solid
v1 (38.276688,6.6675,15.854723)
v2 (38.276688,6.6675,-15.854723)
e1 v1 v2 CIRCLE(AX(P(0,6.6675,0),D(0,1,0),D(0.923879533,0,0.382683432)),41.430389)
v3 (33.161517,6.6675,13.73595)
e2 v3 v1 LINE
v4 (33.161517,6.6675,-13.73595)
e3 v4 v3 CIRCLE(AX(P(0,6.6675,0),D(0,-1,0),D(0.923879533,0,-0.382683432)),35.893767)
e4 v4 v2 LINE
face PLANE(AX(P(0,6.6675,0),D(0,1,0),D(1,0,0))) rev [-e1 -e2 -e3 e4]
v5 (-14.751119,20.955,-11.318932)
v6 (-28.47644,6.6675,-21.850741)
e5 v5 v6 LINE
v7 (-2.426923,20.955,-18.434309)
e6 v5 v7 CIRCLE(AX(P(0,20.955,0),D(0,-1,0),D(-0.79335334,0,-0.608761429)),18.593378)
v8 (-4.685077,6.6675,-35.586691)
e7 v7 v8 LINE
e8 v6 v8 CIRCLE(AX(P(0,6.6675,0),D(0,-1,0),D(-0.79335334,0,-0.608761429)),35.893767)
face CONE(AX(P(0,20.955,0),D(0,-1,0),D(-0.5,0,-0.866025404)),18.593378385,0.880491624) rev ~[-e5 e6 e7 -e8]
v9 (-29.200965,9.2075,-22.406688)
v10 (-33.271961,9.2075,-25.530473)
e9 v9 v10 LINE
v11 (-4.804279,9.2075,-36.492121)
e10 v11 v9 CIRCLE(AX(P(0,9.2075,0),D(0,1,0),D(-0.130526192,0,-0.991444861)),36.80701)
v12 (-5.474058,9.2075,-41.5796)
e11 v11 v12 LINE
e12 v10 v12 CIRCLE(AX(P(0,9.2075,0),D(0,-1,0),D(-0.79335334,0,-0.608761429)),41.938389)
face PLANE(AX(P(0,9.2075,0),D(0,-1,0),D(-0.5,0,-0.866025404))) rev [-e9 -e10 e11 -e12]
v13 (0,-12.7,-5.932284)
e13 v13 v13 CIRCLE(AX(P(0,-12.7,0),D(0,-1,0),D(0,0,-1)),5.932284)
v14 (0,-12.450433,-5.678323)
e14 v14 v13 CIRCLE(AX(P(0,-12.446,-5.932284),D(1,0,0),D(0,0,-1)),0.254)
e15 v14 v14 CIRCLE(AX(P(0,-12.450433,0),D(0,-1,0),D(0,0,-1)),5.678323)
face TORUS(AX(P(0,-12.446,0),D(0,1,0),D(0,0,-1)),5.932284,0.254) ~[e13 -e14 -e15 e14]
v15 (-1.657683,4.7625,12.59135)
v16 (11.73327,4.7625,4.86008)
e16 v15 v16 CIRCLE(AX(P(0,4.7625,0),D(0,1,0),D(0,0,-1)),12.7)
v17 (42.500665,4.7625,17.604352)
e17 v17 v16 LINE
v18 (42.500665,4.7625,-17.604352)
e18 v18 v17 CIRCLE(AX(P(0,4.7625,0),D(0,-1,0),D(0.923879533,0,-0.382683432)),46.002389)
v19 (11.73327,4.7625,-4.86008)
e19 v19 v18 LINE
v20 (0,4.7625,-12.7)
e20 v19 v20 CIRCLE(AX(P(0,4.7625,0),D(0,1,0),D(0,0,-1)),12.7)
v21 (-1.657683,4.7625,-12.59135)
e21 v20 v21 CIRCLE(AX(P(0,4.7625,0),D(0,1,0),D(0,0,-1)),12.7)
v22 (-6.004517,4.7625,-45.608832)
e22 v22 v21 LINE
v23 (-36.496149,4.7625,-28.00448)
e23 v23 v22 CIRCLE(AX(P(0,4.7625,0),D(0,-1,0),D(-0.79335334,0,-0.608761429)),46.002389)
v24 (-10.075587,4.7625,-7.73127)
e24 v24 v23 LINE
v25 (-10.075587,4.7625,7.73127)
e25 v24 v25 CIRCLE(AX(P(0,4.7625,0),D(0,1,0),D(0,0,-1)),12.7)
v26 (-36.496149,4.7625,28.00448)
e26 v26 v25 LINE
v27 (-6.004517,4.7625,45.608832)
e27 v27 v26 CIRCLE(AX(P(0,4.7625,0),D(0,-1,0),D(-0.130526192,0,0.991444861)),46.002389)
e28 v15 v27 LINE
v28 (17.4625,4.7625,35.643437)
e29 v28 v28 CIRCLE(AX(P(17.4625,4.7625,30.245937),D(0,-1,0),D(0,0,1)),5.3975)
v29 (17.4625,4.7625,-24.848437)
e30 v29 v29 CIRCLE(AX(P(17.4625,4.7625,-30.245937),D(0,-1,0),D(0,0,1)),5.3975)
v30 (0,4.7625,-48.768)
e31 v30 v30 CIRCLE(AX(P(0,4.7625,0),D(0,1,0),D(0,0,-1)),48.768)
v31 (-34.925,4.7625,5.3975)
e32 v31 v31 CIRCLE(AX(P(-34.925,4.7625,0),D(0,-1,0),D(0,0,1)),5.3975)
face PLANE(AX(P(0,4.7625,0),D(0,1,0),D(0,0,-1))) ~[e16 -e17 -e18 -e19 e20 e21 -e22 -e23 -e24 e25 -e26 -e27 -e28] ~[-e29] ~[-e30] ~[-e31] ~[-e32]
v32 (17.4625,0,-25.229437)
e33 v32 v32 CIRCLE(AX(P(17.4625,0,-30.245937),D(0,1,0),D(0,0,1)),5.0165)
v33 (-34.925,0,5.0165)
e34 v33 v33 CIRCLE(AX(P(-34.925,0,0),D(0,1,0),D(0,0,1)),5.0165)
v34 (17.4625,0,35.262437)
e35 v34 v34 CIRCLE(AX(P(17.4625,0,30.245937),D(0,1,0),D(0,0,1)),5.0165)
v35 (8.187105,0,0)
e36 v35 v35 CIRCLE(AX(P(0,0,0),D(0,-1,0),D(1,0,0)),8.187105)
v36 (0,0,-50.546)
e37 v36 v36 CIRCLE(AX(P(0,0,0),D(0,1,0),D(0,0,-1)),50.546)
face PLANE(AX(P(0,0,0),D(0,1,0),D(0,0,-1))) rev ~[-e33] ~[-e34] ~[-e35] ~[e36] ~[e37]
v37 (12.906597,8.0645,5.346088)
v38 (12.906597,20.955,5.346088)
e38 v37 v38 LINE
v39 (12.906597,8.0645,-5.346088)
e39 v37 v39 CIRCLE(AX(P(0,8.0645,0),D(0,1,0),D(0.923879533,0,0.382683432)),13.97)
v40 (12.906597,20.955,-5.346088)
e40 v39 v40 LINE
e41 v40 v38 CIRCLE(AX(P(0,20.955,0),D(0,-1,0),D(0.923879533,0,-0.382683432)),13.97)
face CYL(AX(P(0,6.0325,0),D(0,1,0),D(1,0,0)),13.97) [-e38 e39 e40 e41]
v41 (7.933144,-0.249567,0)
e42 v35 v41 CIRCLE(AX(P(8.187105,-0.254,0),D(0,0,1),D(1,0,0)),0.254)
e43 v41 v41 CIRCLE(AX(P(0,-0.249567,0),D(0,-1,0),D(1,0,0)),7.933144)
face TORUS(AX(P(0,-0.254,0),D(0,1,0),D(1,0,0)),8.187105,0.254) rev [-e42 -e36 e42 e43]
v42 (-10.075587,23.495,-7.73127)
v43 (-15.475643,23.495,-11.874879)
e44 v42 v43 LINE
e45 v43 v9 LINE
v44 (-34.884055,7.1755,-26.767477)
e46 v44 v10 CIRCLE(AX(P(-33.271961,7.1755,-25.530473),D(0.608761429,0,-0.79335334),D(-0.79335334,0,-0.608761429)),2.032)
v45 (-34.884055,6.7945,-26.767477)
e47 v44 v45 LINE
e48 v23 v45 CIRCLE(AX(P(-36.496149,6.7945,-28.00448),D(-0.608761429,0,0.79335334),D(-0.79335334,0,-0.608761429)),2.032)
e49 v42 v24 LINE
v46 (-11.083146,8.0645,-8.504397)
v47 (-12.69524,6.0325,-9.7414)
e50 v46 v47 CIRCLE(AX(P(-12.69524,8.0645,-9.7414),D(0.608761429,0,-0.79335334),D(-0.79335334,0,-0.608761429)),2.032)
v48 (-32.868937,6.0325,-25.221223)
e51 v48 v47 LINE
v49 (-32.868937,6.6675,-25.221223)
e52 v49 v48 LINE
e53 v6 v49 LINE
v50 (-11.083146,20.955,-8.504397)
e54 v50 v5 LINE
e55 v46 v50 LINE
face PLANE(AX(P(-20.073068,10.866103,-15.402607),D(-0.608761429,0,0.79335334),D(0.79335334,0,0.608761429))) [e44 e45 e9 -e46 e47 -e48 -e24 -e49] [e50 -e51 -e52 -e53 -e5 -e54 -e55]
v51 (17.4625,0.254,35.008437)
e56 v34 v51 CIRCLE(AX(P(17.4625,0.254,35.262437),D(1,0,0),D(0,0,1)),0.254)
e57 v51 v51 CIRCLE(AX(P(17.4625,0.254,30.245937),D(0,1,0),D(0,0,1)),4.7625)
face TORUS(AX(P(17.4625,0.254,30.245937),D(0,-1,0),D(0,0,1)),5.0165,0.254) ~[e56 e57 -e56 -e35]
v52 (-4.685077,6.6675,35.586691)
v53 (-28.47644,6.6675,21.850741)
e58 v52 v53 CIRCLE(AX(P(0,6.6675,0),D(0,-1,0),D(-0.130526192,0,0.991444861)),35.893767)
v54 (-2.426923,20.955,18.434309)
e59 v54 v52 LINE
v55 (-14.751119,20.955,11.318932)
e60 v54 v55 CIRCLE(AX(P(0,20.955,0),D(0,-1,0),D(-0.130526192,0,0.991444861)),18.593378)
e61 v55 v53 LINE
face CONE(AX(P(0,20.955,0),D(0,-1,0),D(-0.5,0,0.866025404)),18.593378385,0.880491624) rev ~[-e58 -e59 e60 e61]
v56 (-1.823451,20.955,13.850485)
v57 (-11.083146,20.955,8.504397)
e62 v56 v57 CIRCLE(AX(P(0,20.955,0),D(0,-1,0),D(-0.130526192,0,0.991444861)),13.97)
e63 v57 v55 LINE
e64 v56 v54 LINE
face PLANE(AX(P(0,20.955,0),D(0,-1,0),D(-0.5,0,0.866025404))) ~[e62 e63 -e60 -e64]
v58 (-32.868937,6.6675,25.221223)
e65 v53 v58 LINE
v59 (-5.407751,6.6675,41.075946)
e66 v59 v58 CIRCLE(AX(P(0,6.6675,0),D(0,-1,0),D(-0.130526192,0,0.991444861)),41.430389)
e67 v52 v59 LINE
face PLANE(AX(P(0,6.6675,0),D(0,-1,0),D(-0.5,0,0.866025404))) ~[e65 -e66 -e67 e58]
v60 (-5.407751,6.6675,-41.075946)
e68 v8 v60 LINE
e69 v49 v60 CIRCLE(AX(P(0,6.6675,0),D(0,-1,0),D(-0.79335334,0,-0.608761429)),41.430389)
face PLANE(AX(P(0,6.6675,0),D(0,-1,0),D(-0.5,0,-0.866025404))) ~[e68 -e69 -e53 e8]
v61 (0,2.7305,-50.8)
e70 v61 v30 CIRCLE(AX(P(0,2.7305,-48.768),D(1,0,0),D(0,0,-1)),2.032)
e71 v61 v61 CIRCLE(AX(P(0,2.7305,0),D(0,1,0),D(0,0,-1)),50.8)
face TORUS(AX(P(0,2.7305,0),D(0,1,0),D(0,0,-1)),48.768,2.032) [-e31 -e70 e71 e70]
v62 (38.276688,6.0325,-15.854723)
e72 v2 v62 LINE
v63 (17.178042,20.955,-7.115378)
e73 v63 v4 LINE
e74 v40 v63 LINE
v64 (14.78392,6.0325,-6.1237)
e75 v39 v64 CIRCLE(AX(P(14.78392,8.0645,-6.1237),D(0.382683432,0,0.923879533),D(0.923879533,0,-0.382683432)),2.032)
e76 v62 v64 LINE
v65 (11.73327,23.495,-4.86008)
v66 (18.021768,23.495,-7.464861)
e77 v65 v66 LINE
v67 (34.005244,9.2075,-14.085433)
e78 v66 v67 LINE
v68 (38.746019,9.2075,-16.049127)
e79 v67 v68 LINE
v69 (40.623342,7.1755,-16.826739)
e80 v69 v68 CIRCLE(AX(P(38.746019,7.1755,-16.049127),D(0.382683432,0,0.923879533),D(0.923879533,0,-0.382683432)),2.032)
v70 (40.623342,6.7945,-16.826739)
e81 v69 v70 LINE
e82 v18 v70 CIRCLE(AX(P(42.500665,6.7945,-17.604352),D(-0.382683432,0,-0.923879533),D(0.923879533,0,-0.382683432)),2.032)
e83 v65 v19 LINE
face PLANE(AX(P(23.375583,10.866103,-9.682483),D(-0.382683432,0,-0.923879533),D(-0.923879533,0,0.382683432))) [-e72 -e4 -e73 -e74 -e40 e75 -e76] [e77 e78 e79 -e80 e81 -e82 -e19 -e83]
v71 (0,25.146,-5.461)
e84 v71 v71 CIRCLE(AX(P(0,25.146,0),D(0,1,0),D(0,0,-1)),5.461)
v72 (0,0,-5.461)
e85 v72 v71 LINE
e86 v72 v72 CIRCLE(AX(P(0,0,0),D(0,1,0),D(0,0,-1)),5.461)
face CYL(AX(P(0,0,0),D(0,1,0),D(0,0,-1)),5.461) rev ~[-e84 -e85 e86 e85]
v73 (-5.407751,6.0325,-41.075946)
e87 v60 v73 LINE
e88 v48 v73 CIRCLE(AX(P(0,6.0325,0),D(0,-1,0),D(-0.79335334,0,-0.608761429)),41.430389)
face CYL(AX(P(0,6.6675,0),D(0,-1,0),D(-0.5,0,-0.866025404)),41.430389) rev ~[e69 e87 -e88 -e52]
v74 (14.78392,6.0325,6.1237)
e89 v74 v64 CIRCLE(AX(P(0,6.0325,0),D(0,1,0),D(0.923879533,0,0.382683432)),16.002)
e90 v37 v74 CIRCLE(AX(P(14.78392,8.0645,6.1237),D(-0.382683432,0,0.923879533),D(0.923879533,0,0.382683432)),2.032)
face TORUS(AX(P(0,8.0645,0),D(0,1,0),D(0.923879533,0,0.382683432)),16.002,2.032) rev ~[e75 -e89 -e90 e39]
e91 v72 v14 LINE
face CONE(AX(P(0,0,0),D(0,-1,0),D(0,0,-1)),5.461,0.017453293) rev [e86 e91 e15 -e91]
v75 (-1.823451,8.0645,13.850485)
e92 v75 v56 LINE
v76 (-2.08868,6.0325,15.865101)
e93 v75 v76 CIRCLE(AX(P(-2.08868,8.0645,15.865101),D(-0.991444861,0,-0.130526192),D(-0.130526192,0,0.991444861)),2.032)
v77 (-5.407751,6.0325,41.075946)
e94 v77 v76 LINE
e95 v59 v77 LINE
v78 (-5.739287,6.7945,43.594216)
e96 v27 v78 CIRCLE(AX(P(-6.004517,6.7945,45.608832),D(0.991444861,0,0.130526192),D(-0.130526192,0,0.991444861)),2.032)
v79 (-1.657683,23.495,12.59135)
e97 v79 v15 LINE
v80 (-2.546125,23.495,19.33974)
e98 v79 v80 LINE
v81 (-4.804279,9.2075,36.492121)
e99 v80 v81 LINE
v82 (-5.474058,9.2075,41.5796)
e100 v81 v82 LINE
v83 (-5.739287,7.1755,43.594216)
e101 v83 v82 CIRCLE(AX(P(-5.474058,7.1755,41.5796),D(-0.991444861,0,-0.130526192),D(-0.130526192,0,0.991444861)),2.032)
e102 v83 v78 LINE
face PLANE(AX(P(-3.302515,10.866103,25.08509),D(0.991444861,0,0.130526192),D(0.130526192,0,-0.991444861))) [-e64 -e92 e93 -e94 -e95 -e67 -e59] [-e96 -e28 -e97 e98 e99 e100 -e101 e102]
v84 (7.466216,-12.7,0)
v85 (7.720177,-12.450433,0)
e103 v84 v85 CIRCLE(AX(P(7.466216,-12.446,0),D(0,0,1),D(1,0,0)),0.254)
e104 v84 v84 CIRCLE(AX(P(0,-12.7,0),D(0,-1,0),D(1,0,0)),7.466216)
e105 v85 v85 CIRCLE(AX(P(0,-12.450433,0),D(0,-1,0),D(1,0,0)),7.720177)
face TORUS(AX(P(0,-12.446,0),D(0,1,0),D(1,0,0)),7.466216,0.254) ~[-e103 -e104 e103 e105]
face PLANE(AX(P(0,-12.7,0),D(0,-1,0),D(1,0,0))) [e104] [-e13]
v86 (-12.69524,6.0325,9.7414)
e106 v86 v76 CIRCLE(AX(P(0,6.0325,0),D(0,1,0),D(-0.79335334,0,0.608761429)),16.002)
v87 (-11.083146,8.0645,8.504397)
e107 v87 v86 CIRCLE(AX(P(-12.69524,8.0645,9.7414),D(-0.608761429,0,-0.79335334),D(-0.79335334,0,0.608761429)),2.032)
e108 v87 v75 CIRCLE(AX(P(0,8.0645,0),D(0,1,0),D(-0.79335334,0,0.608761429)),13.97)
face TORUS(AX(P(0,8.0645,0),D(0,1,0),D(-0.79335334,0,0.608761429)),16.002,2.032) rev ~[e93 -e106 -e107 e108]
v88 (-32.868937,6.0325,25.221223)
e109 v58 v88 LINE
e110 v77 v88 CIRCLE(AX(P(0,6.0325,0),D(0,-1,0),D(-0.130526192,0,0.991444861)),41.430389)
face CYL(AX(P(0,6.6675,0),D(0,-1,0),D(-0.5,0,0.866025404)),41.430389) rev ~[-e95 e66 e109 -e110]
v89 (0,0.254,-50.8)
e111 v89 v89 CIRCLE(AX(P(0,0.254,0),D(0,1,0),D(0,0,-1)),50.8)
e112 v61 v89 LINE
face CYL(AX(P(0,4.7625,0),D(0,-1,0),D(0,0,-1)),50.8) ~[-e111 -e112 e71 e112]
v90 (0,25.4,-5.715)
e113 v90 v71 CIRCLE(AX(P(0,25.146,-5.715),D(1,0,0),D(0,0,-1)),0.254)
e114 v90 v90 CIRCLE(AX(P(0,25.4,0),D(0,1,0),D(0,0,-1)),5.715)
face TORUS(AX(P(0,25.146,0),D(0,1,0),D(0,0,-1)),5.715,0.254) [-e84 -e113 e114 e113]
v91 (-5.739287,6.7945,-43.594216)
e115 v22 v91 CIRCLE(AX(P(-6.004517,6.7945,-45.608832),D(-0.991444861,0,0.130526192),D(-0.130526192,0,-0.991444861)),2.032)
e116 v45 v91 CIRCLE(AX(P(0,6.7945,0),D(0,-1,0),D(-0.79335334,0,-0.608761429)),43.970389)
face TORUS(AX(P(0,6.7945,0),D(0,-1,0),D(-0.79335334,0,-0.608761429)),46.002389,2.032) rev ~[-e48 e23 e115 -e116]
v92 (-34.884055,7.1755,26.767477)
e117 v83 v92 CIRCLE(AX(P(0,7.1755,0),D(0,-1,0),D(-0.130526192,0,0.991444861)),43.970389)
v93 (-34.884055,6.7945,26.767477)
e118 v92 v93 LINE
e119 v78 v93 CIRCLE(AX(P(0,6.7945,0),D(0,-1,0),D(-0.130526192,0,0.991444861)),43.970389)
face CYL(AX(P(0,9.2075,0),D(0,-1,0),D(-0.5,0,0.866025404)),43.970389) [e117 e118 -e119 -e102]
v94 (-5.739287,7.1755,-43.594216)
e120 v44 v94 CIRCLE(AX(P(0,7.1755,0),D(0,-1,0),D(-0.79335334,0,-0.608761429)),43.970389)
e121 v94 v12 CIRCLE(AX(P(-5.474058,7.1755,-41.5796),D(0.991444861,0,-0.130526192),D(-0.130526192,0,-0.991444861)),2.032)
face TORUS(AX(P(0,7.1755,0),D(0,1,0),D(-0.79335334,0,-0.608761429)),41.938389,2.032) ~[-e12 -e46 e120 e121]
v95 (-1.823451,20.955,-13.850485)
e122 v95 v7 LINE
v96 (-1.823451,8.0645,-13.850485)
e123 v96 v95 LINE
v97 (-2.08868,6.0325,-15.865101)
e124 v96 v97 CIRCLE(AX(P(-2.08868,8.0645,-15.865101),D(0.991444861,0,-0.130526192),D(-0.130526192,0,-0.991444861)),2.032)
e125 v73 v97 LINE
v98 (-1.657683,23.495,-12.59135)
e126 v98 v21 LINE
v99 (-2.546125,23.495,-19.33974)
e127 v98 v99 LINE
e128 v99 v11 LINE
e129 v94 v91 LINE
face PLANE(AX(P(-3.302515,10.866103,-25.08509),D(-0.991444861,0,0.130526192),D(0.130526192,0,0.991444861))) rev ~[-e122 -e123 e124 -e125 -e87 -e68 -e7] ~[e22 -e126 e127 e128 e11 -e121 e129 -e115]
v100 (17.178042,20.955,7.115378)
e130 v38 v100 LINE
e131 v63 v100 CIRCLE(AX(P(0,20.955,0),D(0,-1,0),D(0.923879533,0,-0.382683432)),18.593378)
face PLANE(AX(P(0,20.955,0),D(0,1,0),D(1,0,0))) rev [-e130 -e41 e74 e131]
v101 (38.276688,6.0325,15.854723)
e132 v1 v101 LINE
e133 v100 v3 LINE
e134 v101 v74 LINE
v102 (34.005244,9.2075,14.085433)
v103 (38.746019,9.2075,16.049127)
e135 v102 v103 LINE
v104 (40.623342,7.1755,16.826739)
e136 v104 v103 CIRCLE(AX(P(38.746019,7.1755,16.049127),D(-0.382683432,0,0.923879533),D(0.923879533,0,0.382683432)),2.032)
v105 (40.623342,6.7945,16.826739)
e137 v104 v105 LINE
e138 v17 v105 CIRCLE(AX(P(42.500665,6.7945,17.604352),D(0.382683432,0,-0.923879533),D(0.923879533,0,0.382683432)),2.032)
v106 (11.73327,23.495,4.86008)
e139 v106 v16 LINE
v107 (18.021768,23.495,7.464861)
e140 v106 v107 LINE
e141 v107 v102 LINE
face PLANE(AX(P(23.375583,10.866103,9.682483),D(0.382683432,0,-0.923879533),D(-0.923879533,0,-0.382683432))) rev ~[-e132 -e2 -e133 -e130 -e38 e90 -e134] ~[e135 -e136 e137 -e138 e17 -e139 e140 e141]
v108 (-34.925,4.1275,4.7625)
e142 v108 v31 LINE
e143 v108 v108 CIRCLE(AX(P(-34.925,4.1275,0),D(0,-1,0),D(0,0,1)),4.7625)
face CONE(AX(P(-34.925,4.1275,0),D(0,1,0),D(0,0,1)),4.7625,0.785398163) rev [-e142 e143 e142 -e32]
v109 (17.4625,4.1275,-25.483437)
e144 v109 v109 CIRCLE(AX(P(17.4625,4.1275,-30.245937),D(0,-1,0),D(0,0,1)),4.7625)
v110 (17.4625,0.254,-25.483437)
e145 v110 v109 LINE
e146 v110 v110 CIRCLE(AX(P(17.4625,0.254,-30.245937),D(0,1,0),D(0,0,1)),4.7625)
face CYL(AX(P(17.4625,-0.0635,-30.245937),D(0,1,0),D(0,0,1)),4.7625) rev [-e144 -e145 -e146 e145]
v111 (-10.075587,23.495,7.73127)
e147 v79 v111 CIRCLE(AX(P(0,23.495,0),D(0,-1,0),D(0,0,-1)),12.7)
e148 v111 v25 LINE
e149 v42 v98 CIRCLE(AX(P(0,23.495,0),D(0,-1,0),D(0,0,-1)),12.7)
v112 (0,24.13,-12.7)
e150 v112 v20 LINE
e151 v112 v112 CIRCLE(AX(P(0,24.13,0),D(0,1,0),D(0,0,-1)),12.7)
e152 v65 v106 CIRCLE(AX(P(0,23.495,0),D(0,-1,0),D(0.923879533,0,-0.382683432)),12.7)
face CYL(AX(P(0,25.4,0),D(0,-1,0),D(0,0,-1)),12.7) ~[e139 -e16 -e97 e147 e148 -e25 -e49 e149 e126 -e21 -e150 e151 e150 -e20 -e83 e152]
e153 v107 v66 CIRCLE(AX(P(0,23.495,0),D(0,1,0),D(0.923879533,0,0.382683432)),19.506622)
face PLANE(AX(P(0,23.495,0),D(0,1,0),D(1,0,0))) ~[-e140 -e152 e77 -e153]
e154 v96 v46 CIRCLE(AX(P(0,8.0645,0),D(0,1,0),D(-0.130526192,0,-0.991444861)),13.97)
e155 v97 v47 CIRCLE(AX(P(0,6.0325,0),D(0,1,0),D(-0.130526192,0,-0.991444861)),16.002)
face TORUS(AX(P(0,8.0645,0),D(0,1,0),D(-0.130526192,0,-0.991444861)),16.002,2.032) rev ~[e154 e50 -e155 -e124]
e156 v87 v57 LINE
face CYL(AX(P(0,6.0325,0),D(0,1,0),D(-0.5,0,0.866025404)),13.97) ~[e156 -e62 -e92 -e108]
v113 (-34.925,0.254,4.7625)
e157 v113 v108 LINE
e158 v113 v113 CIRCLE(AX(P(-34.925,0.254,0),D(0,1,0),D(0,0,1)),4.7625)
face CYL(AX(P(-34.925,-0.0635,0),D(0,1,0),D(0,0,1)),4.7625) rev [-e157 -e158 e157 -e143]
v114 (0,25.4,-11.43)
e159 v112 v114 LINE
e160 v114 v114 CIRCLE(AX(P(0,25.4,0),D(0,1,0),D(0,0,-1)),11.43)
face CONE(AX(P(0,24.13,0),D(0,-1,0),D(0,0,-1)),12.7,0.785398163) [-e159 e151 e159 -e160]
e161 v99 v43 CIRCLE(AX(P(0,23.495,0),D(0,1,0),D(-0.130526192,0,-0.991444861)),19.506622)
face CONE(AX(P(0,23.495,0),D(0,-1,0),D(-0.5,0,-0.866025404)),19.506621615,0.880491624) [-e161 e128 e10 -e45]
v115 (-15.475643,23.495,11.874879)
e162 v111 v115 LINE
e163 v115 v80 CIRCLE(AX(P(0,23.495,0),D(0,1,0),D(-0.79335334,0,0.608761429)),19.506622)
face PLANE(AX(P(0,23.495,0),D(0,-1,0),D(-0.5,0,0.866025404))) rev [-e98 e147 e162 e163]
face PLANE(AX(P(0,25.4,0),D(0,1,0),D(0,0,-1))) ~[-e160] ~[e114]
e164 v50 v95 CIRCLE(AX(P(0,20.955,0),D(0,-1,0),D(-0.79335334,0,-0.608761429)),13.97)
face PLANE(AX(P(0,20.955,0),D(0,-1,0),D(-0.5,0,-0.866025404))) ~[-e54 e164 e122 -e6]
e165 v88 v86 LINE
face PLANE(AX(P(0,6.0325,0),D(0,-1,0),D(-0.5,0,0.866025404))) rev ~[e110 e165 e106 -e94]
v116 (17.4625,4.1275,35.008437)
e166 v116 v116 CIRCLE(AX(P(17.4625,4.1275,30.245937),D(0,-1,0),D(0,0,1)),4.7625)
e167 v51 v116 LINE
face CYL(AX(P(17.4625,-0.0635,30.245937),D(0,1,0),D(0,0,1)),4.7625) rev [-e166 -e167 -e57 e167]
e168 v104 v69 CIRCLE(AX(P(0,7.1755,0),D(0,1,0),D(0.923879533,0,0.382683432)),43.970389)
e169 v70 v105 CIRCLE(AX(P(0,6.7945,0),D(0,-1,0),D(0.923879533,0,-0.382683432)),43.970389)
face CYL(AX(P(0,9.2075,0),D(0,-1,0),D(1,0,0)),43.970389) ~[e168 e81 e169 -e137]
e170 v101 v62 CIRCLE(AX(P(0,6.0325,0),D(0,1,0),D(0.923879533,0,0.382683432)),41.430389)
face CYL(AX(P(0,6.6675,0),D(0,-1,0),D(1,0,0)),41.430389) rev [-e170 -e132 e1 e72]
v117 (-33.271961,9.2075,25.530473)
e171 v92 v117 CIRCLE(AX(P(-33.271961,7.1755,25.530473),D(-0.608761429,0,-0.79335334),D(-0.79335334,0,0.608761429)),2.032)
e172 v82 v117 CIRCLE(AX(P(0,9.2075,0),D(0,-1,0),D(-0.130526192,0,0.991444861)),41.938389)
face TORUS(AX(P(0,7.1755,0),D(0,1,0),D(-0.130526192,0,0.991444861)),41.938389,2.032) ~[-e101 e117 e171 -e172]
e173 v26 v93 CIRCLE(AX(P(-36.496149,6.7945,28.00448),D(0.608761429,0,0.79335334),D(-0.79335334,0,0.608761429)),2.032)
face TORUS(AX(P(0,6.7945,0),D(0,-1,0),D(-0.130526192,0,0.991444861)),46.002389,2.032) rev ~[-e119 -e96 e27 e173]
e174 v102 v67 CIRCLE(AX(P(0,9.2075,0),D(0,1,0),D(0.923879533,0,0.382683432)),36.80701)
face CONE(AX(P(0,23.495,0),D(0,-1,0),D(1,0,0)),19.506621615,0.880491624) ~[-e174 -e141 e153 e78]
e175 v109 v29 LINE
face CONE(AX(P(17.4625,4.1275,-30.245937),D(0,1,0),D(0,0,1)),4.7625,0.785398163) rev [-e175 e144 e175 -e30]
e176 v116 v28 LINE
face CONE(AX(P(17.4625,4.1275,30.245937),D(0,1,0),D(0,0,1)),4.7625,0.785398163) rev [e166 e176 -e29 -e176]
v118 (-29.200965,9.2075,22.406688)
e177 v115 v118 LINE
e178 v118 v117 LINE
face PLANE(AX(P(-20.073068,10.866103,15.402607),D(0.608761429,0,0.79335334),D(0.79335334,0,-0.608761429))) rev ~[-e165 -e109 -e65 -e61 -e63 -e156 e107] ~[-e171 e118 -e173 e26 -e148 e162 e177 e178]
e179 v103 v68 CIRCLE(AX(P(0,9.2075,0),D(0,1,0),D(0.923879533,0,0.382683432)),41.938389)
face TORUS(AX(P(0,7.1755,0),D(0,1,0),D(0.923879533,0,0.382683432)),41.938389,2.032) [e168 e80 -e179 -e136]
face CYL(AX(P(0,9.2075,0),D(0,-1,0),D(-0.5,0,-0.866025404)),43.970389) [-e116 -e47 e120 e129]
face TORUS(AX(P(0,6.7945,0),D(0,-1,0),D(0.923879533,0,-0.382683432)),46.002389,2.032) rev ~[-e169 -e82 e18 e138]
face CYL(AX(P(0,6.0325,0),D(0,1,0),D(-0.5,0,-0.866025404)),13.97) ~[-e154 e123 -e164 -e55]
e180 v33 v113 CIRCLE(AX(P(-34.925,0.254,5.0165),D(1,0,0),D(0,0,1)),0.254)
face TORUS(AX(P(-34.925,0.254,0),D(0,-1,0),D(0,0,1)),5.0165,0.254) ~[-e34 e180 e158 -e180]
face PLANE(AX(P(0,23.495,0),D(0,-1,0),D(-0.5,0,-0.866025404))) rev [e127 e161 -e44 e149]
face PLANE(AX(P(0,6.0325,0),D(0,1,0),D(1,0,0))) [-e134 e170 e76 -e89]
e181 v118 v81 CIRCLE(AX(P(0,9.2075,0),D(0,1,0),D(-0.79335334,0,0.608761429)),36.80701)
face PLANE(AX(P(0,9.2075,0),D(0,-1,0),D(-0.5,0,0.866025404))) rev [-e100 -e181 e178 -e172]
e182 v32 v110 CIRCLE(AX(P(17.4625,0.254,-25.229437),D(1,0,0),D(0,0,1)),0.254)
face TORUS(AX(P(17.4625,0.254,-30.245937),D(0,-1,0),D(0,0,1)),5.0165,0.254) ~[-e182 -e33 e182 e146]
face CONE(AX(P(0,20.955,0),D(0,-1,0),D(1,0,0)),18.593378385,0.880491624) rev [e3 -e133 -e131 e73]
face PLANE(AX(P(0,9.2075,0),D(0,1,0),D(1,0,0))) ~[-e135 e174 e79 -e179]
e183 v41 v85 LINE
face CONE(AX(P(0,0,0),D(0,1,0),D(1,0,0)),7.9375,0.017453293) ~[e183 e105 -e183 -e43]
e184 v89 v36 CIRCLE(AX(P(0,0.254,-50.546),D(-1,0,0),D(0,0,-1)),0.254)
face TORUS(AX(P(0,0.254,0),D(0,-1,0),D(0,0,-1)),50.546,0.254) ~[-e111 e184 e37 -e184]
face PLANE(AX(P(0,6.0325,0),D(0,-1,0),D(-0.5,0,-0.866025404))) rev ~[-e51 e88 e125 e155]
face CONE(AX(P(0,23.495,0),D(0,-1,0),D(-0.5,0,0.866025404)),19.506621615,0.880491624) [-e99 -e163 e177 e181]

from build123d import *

# Parameters (mm, degrees)
CBORE_FOR_10_SOCKET_HEAD_CAP_SCREW1_AT_COUNT = 2
CBORE_FOR_10_SOCKET_HEAD_CAP_SCREW1_AT_PITCH = 60.491874454
CBORE_FOR_10_SOCKET_HEAD_CAP_SCREW1_2_COUNT  = 2
CBORE_FOR_10_SOCKET_HEAD_CAP_SCREW1_2_PITCH  = 60.491874454
REVOLVE_THIN1_ANGLE                          = 45
CIRPATTERN1_COUNT                            = 3
SKETCH8_R                                    = 7.9375
SKETCH8_R_2                                  = 5.461
BOSS_EXTRUDE1_DEPTH                          = 12.7
BOSS_EXTRUDE1_DRAFT                          = 1
FILLET1_R                                    = 2.032
FILLET2_R                                    = 0.254
CHAMFER1_SIZE                                = 1.27


with BuildPart() as part:
    # Sketch1 → Revolve1 (revolve)
    with BuildSketch(Plane.XY, mode=Mode.PRIVATE) as revolve1_sk:
        Polygon((5.461, 25.4), (12.7, 25.4), (12.7, 4.7625), (50.8, 4.7625), (50.8, 0), (5.461, 0), align=None)
    revolve(revolve1_sk.sketch.rotate(Axis((0, 0, 0), (0, 1, 0)), 90), axis=Axis((0, 0, 0), (0, 1, 0)))

    # Sketch6 → CBORE for #10 Socket Head Cap Screw1 (revolve, cut)
    with BuildSketch(Plane(origin=(17.4625, 4.7625, -30.245937227), x_dir=(0, 0, 1), z_dir=(1, 0, 0))):
        Polygon((0, 0), (0, 4.7625), (2.8067, 4.7625), (2.8067, 4.826), (4.7625, 4.826), (4.7625, 0.635), (5.3975, 0), align=None)
    cbore_for_10_socket_head_cap_screw1 = revolve(axis=Axis((17.4625, 11.1125, -30.245937227), (0, -1, 0)), mode=Mode.SUBTRACT)

    # CBORE for #10 Socket Head Cap Screw1 at: CBORE for #10 Socket Head Cap Screw1 ×2
    with Locations(*[Vector(-0.8660254037844386, 0, 0.5000000000000002) * (i * CBORE_FOR_10_SOCKET_HEAD_CAP_SCREW1_AT_PITCH) for i in range(1, CBORE_FOR_10_SOCKET_HEAD_CAP_SCREW1_AT_COUNT)]):
        add(cbore_for_10_socket_head_cap_screw1, mode=Mode.SUBTRACT)

    # CBORE for _10 Socket Head Cap Screw1 2: CBORE for #10 Socket Head Cap Screw1 ×2
    with Locations(*[(0, 0, i * CBORE_FOR_10_SOCKET_HEAD_CAP_SCREW1_2_PITCH) for i in range(1, CBORE_FOR_10_SOCKET_HEAD_CAP_SCREW1_2_COUNT)]):
        add(cbore_for_10_socket_head_cap_screw1, mode=Mode.SUBTRACT)

    # Sketch7 → Revolve-Thin1 (revolve, symmetric)
    with BuildSketch(Plane.XY) as revolve_thin1_sk:
        Polygon((11.43, 3.4925), (11.43, 23.495), (19.506621615, 23.495), (36.807010349, 9.2075), (43.970388734, 9.2075), (43.970388734, 3.4925), align=None)
        Polygon((13.97, 6.0325), (13.97, 20.955), (18.593378385, 20.955), (35.893767119, 6.6675), (41.430388734, 6.6675), (41.430388734, 6.0325), align=None, mode=Mode.SUBTRACT)
    revolve_thin1 = revolve(axis=Axis((0, 25.4, 0), (0, -1, 0)), revolution_arc=REVOLVE_THIN1_ANGLE / 2)
    revolve_thin1 = revolve_thin1 + revolve(revolve_thin1_sk.sketch, axis=Axis((0, 25.4, 0), (0, 1, 0)), revolution_arc=REVOLVE_THIN1_ANGLE / 2)

    # CirPattern1: Revolve-Thin1 ×3 about axis
    cirpattern1_axis = Axis((0, 0, 0), (0, 1, 0))
    for i in range(1, CIRPATTERN1_COUNT):
        add(revolve_thin1.rotate(cirpattern1_axis, i * 360 / CIRPATTERN1_COUNT))


with BuildPart() as boss_extrude1_tool:
    # Sketch8 → Boss-Extrude1 (with draft: the straight prism first)
    with BuildSketch(Plane.XZ):
        Circle(SKETCH8_R)
        with Locations(Location((0, 0, 0), (0, 0, 270))):
            Circle(SKETCH8_R_2, mode=Mode.SUBTRACT)
    extrude(amount=BOSS_EXTRUDE1_DEPTH)
    # Boss-Extrude1: the draft: its side faces are tilted about the plane it starts from
    boss_extrude1_sides = [boss_extrude1_tool.faces().sort_by_distance(p)[0] for p in [
        (-7.9375, -6.35, 0),
        (0, -6.35, 5.461),
    ]]
    draft(boss_extrude1_sides, Plane.XZ, BOSS_EXTRUDE1_DRAFT)


with BuildPart() as part_1:
    add(part.part)

    # Boss-Extrude1: add boss_extrude1_tool
    add(boss_extrude1_tool.part)

    # Fillet1
    fillet1_edges = [part_1.edges().sort_by_distance(p)[0] for p in [
        (-21.985194367, 4.7625, -38.079473658),
        (-21.985194367, 9.2075, -38.079473658),
        (-6.985, 6.0325, -12.098374891),
        (43.970388734, 4.7625, 0),
        (43.970388734, 9.2075, 0),
        (13.97, 6.0325, 0),
        (0, 4.7625, 50.8),
        (-21.985194367, 4.7625, 38.079473658),
        (-21.985194367, 9.2075, 38.079473658),
        (-6.985, 6.0325, 12.098374891),
    ]]
    fillet(fillet1_edges, radius=FILLET1_R)

    # Fillet2
    fillet2_edges = [part_1.edges().sort_by_distance(p)[0] for p in [
        (-7.715820675, -12.7, 0),
        (-7.9375, 0, 0),
        (0, -12.7, 5.682679325),
        (17.4625, 0, -35.008437227),
        (17.4625, 0, 25.483437227),
        (-34.925, 0, -4.7625),
        (0, 0, 50.8),
        (0, 25.4, 5.461),
    ]]
    fillet(fillet2_edges, radius=FILLET2_R)

    # Chamfer1
    chamfer1_edges = [part_1.edges().sort_by_distance(p)[0] for p in [
        (0, 25.4, 12.7),
    ]]
    chamfer(chamfer1_edges, length=CHAMFER1_SIZE)


solid = part_1.part
